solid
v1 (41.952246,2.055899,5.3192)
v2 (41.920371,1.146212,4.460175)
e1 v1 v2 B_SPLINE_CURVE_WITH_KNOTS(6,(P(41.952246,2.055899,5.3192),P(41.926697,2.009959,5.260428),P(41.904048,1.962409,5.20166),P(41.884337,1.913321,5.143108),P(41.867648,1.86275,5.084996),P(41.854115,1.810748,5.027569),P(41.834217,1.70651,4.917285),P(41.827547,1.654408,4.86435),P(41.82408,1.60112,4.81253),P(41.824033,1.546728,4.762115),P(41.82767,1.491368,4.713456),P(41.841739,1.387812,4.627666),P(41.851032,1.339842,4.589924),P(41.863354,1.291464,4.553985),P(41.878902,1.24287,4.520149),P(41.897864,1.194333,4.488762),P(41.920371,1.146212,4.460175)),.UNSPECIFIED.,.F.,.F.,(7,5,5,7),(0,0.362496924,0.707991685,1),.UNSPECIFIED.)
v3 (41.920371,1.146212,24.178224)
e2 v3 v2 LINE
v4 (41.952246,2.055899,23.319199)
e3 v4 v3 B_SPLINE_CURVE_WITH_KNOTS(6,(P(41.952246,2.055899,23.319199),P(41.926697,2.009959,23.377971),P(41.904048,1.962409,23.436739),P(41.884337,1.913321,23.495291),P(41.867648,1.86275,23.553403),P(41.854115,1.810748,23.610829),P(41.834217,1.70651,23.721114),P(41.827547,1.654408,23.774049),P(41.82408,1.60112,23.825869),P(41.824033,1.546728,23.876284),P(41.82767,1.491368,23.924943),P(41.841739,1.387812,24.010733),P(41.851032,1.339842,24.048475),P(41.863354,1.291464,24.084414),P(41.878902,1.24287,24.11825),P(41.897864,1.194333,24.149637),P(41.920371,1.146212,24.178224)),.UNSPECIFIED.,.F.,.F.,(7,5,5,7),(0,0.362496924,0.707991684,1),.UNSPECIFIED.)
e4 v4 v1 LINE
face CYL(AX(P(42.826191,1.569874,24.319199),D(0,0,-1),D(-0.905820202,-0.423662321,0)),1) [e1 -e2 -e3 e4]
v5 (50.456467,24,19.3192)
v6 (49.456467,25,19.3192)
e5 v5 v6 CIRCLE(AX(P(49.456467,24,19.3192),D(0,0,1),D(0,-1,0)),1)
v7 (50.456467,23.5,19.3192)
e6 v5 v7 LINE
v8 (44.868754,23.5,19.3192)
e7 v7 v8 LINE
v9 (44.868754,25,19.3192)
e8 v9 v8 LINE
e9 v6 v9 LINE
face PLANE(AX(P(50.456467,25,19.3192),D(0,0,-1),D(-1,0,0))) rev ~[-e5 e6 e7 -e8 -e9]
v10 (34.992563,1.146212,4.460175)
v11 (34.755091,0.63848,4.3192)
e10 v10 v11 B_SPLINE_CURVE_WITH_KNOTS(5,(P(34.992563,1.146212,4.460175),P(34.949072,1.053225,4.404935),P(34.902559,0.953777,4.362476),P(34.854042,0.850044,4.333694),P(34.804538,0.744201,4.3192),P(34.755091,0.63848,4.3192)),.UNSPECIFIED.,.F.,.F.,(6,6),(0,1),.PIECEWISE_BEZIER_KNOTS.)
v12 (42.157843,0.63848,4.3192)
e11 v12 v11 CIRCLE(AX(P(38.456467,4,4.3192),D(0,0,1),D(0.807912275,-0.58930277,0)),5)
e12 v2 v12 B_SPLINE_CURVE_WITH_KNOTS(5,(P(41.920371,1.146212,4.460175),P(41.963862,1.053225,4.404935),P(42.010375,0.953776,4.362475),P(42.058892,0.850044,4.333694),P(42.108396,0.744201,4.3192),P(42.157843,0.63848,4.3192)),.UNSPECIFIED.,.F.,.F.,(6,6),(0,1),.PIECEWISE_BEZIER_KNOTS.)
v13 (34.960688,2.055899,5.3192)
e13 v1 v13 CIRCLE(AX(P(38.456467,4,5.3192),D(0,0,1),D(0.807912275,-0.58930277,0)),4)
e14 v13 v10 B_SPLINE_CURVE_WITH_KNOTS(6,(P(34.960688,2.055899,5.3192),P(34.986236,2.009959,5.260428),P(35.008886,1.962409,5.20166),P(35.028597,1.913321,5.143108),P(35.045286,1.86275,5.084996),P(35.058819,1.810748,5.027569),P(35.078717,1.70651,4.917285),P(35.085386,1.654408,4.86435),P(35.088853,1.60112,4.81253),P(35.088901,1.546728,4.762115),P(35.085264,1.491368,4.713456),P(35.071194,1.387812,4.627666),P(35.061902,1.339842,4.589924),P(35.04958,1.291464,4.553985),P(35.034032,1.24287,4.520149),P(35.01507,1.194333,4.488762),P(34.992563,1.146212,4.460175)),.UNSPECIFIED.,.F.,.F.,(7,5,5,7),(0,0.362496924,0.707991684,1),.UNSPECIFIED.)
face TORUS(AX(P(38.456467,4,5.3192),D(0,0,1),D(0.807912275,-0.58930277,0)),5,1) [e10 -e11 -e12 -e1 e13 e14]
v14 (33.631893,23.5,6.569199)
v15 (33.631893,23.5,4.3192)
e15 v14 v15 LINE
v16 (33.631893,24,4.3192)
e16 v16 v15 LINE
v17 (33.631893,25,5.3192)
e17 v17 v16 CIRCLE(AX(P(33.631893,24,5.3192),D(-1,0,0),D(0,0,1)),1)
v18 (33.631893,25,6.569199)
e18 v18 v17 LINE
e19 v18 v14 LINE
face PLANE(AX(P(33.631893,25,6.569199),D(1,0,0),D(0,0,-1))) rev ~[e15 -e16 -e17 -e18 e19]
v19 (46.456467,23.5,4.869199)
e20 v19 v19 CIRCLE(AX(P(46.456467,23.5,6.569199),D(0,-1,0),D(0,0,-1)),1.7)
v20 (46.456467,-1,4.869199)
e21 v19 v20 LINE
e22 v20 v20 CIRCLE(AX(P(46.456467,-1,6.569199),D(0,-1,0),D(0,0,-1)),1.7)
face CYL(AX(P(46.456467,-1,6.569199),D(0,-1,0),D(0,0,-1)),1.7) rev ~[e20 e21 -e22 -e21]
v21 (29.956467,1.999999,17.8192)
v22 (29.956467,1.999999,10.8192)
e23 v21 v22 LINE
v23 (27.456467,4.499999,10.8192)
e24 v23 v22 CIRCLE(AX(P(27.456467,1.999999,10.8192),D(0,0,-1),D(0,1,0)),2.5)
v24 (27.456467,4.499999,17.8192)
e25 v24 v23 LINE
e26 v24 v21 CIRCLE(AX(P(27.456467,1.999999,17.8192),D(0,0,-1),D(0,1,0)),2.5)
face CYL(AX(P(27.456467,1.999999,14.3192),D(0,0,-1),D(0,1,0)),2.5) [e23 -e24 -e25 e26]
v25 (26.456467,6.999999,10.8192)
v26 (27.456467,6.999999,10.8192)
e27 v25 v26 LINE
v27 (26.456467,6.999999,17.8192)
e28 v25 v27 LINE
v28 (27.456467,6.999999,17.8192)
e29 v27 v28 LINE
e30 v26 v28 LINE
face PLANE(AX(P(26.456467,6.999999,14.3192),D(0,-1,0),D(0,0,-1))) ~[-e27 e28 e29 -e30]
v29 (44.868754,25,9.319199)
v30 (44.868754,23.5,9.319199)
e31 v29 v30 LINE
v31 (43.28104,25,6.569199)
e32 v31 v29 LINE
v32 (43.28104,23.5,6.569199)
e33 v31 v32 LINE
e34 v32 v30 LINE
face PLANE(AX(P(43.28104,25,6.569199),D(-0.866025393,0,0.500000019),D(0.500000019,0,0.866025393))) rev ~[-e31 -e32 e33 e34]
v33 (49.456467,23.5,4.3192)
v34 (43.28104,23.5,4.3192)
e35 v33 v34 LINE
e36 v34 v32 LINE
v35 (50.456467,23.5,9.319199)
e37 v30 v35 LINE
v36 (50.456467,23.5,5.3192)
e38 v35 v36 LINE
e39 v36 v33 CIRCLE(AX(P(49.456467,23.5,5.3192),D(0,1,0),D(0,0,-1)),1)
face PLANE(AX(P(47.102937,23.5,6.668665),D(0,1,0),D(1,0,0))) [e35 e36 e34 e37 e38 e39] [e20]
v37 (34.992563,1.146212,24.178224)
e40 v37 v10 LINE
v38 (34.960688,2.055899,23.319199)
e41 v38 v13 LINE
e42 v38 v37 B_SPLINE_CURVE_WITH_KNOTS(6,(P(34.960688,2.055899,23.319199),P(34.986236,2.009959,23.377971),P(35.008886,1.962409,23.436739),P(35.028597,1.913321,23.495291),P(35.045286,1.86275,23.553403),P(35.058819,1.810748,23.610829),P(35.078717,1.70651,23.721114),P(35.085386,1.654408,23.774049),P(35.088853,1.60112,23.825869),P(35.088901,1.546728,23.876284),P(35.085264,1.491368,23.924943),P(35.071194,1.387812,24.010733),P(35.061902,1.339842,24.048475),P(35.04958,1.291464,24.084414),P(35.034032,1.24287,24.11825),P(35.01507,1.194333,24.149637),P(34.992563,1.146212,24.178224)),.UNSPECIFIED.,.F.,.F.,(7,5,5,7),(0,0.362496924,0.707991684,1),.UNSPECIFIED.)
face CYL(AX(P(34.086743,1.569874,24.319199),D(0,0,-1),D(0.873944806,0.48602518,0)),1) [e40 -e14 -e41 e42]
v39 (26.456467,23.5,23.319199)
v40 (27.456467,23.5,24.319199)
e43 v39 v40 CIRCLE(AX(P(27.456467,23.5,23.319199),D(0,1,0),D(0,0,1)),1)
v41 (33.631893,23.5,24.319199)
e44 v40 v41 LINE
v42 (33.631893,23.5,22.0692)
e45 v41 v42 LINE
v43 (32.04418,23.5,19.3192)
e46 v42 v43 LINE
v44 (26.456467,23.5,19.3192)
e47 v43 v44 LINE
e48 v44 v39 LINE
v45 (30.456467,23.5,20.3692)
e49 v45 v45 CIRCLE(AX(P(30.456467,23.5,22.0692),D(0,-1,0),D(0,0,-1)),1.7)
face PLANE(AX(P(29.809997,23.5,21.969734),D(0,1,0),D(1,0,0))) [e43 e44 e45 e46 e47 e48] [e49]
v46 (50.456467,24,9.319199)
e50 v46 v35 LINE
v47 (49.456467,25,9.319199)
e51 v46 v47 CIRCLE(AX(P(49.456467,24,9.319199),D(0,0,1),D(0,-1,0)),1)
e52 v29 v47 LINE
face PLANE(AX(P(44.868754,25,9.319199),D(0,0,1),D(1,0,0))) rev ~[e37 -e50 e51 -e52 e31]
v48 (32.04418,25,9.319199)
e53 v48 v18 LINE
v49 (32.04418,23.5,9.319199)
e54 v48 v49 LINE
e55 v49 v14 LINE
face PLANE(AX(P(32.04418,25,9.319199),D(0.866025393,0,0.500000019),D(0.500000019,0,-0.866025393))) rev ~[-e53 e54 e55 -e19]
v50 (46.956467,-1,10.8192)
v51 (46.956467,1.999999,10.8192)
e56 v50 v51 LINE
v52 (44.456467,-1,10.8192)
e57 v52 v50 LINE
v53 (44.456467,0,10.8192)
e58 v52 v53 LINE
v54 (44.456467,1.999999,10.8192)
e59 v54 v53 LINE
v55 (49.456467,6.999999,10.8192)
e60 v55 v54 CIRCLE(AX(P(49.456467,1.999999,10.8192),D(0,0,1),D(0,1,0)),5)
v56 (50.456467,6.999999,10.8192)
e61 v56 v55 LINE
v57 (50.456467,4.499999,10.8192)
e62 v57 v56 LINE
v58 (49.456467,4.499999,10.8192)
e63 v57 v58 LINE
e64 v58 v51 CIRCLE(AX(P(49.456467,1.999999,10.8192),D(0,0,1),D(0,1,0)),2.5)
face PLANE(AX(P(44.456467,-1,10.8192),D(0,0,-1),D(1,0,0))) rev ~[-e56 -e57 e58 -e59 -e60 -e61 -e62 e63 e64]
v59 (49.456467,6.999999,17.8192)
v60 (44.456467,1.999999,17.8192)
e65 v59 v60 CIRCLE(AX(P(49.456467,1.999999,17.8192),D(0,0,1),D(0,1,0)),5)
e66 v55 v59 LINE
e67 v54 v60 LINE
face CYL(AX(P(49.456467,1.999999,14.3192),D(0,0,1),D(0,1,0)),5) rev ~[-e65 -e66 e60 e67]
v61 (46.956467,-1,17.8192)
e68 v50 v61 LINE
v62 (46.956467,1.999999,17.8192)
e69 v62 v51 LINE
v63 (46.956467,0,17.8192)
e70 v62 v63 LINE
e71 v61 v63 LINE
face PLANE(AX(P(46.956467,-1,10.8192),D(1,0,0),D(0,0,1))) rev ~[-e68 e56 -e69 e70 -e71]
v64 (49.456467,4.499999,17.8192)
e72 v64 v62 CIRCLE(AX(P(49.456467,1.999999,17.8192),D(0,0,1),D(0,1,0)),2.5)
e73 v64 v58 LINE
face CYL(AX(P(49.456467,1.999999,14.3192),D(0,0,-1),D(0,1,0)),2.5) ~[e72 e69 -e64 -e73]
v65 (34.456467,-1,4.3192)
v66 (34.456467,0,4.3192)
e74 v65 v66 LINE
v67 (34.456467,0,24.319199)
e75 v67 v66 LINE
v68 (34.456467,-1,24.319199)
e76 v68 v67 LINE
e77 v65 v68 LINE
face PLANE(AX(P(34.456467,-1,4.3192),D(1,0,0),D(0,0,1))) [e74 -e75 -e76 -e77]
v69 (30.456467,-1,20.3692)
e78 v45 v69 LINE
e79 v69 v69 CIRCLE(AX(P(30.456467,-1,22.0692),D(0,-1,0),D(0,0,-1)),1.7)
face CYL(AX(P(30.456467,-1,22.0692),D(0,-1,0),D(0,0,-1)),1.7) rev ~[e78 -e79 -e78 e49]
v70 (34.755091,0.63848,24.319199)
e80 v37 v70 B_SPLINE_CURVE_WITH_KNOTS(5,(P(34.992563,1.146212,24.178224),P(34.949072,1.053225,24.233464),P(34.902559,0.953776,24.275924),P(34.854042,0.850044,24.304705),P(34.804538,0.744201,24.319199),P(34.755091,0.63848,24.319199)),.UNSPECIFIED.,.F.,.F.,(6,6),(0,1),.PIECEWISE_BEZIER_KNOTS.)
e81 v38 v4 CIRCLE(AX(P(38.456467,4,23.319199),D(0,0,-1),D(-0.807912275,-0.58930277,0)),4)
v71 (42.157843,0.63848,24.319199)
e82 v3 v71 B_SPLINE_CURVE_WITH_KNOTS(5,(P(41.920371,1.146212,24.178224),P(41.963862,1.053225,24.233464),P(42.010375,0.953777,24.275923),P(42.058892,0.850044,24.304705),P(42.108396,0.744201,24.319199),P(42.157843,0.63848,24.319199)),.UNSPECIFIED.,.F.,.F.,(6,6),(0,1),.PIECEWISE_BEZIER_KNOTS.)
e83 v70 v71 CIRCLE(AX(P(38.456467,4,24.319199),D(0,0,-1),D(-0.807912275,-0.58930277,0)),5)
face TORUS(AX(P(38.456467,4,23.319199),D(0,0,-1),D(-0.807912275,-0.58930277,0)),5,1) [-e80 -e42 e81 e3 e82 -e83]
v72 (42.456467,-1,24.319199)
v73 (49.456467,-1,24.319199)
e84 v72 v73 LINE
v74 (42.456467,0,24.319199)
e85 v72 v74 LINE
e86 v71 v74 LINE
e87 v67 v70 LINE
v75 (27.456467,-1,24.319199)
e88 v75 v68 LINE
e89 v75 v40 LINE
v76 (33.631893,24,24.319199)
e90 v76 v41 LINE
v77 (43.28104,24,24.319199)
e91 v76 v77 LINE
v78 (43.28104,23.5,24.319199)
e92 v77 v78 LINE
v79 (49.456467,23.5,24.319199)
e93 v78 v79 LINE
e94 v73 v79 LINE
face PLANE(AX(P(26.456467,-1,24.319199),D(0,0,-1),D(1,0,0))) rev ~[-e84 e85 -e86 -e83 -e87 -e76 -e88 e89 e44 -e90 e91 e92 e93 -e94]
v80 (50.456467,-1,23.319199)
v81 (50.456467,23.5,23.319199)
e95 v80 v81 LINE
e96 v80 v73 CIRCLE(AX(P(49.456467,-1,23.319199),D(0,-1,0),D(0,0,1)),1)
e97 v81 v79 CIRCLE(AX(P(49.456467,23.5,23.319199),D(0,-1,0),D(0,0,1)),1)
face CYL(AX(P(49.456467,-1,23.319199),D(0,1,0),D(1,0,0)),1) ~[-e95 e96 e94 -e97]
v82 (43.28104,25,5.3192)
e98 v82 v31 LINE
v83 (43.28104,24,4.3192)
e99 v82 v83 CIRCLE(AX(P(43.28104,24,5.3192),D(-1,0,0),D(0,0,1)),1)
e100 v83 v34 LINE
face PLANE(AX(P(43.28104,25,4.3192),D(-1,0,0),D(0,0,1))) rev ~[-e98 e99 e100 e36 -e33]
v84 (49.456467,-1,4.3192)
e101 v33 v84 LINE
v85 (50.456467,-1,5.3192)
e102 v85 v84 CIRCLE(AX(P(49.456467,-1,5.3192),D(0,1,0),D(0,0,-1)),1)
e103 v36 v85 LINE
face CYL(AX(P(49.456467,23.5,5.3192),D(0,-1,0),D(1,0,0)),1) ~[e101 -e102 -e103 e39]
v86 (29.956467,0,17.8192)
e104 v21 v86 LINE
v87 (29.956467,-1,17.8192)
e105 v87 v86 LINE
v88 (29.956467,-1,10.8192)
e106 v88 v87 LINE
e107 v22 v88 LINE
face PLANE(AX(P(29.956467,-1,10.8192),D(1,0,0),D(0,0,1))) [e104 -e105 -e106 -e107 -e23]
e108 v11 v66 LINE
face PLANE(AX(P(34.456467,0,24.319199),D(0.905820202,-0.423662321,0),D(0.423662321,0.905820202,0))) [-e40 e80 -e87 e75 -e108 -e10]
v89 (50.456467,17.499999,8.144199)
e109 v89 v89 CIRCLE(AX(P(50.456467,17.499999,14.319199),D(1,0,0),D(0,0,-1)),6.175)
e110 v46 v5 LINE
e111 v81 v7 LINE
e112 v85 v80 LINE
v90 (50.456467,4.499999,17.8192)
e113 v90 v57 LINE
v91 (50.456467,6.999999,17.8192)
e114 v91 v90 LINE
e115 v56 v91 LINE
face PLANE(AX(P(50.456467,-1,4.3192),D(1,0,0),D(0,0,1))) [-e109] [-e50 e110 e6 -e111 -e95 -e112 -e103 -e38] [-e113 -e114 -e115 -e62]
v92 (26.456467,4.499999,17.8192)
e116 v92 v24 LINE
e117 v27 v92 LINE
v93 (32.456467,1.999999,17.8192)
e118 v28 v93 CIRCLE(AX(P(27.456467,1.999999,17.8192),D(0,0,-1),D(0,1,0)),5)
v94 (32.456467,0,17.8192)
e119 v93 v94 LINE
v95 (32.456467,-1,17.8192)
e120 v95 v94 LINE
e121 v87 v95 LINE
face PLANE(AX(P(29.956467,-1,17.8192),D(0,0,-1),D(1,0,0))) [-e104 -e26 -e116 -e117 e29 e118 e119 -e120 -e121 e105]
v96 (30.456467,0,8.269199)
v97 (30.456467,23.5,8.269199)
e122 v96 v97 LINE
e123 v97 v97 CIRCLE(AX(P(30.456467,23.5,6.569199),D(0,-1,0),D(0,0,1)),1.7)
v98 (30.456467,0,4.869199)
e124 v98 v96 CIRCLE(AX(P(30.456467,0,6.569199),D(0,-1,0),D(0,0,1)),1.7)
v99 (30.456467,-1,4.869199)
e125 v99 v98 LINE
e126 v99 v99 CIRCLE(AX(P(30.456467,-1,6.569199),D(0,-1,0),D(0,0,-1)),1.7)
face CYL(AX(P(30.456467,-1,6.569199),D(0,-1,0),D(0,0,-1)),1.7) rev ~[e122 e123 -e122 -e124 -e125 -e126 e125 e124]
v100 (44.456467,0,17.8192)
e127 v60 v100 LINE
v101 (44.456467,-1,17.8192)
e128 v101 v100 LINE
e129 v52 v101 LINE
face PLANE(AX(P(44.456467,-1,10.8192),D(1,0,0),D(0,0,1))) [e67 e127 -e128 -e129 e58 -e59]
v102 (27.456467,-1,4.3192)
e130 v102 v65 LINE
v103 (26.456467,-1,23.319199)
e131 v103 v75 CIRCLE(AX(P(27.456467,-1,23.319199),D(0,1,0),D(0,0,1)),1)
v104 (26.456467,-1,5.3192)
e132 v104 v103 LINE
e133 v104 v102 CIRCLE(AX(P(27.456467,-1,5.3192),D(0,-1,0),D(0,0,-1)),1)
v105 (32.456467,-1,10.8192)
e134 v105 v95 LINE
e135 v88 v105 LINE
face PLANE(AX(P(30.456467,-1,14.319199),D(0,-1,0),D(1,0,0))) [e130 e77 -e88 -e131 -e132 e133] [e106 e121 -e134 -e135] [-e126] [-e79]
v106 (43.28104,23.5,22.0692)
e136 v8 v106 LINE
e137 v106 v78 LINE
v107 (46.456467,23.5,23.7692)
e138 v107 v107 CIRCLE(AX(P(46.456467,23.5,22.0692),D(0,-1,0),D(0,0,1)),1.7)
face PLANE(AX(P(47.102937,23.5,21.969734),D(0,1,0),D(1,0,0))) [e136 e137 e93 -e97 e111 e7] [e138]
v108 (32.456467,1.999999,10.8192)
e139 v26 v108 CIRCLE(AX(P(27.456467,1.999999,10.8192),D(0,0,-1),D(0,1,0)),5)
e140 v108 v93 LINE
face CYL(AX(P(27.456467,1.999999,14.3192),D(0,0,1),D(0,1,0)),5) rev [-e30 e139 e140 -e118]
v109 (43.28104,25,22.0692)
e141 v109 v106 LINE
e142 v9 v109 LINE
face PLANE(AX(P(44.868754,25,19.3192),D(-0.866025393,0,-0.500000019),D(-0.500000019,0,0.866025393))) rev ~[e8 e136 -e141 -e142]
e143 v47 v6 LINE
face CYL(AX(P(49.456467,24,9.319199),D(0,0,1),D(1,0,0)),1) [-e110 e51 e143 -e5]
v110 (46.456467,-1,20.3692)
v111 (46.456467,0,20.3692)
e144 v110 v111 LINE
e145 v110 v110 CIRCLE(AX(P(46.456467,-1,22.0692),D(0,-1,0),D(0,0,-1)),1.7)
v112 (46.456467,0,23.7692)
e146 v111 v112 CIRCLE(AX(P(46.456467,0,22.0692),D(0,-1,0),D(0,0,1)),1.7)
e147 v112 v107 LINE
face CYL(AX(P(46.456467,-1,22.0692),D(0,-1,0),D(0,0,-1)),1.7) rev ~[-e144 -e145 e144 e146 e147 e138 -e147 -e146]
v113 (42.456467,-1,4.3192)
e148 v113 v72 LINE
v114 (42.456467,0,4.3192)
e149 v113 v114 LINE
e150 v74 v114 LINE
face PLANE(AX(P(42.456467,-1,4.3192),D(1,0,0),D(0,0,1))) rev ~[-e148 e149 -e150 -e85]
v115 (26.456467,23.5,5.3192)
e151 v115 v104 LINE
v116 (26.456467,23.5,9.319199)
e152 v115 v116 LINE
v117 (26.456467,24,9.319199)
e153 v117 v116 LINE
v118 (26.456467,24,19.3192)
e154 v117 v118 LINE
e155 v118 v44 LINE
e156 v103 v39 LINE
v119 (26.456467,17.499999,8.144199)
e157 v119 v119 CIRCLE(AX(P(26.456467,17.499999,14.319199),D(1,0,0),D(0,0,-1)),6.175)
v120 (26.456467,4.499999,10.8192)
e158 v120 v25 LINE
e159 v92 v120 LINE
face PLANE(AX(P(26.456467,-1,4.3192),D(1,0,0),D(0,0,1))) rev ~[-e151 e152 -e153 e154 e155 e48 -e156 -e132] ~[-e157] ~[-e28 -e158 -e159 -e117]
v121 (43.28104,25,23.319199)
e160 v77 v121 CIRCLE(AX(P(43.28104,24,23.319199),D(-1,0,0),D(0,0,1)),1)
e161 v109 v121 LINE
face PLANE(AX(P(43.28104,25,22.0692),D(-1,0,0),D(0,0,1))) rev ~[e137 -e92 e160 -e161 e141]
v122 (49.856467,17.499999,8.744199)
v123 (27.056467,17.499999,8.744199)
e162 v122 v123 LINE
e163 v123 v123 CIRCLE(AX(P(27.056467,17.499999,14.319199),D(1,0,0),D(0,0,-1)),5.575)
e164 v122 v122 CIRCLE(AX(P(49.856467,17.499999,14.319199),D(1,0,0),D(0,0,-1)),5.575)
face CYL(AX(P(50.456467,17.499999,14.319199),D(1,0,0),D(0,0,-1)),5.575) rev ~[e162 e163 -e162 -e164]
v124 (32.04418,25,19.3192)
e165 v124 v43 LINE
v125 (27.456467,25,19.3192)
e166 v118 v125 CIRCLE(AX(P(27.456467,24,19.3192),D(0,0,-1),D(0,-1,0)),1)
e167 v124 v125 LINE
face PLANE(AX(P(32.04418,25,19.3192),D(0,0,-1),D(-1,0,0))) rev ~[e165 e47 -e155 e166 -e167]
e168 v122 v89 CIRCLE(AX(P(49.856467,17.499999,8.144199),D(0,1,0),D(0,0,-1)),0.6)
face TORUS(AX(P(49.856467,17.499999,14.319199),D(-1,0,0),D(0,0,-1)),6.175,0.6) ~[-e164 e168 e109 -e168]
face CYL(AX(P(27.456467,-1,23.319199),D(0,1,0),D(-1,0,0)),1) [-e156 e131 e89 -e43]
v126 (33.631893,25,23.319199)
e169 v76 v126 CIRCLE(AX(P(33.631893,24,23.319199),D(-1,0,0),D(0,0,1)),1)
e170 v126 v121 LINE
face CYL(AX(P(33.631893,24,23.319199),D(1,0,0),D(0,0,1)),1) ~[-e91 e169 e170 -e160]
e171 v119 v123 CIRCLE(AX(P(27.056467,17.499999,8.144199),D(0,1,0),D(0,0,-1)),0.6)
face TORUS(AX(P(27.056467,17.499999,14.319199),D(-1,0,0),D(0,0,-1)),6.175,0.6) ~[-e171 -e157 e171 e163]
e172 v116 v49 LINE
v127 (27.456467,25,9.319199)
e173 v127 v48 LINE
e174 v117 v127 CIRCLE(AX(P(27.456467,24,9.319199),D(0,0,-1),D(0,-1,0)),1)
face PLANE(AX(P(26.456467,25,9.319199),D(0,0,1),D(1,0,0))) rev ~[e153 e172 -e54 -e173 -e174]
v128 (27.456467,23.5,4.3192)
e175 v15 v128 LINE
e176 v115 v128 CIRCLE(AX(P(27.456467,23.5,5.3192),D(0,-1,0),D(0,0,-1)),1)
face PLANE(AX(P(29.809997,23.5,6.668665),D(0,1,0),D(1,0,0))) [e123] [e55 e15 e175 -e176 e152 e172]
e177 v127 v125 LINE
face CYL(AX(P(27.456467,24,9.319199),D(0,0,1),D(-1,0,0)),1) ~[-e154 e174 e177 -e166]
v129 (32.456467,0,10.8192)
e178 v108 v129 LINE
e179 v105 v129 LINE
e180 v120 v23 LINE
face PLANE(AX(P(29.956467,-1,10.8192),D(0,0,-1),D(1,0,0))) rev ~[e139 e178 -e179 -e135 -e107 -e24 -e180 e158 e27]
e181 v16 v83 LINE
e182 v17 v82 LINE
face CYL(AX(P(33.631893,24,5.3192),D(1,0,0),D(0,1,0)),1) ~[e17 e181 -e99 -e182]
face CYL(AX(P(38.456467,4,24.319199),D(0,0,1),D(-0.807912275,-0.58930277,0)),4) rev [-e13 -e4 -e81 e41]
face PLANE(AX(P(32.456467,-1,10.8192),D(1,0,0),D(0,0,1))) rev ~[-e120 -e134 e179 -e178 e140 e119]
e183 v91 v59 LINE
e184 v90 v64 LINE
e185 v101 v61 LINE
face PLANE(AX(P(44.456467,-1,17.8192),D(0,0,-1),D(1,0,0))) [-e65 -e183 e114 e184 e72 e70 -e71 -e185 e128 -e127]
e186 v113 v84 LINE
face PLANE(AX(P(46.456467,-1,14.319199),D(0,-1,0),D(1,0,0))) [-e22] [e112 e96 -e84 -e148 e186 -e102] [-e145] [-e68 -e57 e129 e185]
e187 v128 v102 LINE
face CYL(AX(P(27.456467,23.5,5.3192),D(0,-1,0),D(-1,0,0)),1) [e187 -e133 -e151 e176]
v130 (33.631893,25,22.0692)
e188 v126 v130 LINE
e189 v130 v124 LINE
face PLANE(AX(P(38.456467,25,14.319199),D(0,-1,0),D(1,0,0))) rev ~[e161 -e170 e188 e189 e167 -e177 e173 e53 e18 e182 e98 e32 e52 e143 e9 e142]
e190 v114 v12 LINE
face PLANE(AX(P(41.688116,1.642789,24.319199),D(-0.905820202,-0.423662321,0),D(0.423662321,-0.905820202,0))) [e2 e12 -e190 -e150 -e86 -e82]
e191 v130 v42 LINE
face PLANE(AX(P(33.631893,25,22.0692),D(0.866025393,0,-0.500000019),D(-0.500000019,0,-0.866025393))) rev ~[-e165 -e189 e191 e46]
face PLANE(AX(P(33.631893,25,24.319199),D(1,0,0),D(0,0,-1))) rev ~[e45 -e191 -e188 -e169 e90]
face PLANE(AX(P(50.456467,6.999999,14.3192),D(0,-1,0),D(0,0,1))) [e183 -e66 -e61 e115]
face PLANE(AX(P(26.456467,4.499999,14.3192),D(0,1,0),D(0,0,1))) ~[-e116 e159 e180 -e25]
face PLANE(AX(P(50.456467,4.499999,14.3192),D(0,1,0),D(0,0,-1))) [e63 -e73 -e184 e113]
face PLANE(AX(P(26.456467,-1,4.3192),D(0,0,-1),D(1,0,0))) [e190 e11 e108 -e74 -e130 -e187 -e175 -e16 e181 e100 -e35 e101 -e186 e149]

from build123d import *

# Parameters (mm, degrees)
CROQUIS1_W              = 24
CROQUIS1_H              = 19.999999388
SALIENTE_EXTRUIR1_DEPTH = 25
CORTAR_EXTRUIR1_DEPTH   = 60.75663166
CROQUIS4_R              = 1.7
CORTAR_EXTRUIR3_DEPTH   = 62.337415173
CROQUIS8_W              = 7
CROQUIS8_H              = 2.5
CORTAR_EXTRUIR7_DEPTH   = 1.5
CROQUIS3_R              = 5.575
CORTAR_EXTRUIR8_DEPTH   = 40
SALIENTE_EXTRUIR2_START = 1
CROQUIS13_W             = 8
CROQUIS13_H             = 19.999999388
CROQUIS13_R             = 1.7
CROQUIS13_W_2           = 2.5
CROQUIS13_H_2           = 7
SALIENTE_EXTRUIR2_DEPTH = 1
SALIENTE_EXTRUIR3_START = 1
CROQUIS14_W             = 8
CROQUIS14_H             = 19.999999388
CROQUIS14_R             = 1.7
CROQUIS14_W_2           = 2.5
CROQUIS14_H_2           = 7
SALIENTE_EXTRUIR3_DEPTH = 1
REDONDEO1_R             = 1
REDONDEO3_R             = 0.6


with BuildPart() as part:
    # Croquis1 → Saliente-Extruir1 (new body)
    with BuildSketch(Plane.XZ):
        with Locations((38.456466898, 14.319199476)):
            Rectangle(CROQUIS1_W, CROQUIS1_H)
    extrude(amount=-SALIENTE_EXTRUIR1_DEPTH)

    # Croquis2 → Cortar-Extruir1 (cut, through all)
    with BuildSketch(Plane.XY.offset(24.31919917)):
        with BuildLine():
            Line((34.456466898, 0), (35.224817797, 1.642788918))
            ThreePointArc((35.224817797, 1.642788918), (38.456466898, 8), (41.688116, 1.642788918))
            Line((41.688116, 1.642788918), (42.456466898, 0))
            Line((42.456466898, 0), (34.456466898, 0))
        make_face()
    extrude(amount=-CORTAR_EXTRUIR1_DEPTH, mode=Mode.SUBTRACT)

    # Croquis4 → Cortar-Extruir3 (cut, through all)
    with BuildSketch(Plane.XZ):
        with Locations(Location((30.456466898, 22.069199782, 0), (0, 0, 270))):
            Circle(CROQUIS4_R)
        with Locations(Location((46.456466898, 22.069199782, 0), (0, 0, 90))):
            Circle(CROQUIS4_R)
        with Locations(Location((46.456466898, 6.569198558, 0), (0, 0, 270))):
            Circle(CROQUIS4_R)
        with Locations(Location((30.456466898, 6.569198558, 0), (0, 0, 90))):
            Circle(CROQUIS4_R)
    extrude(amount=-CORTAR_EXTRUIR3_DEPTH, mode=Mode.SUBTRACT)

    # Cortar-Barrer2: sweep along a path in Croquis9
    with BuildLine(Plane(origin=(0, 0, 10.819199782), x_dir=(-1, 0, 0), z_dir=(0, 0, -1))) as cortar_barrer2_path:
        Line((-50.456466898, 6.999998763), (-49.456466898, 6.999998763))
        ThreePointArc((-49.456466898, 6.999998763), (-45.920932992, 5.535532669), (-44.456466898, 1.999998763))
        Line((-44.456466898, 1.999998763), (-44.456466898, -1.237e-06))
    # Croquis8 → Cortar-Barrer2 (sweep, cut)
    with BuildSketch(Plane(origin=(50.456466898, 0, 0), x_dir=(0, 0, -1), z_dir=(1, 0, 0))):
        with Locations((-14.319199782, 5.749998763)):
            Rectangle(CROQUIS8_W, CROQUIS8_H)
    cortar_barrer2 = sweep(path=cortar_barrer2_path.line, mode=Mode.SUBTRACT)

    # Simetría1: Cortar-Barrer2 across plane
    add(cortar_barrer2.mirror(Plane(origin=(38.456466898, 0, 0), x_dir=(0, 0, 1), z_dir=(1, 0, 0))), mode=Mode.SUBTRACT)

    # Croquis11 → Cortar-Extruir7 (cut)
    with BuildSketch(Plane(origin=(0, 25, 0), x_dir=(1, 0, 0), z_dir=(0, 1, 0))):
        Polygon((48.044180138, -19.319200394), (44.868753698, -19.319200394), (43.281040397, -22.069200359), (43.281040397, -24.31919917), (50.456466898, -24.31919917), (50.456466898, -19.319200394), align=None)
        Polygon((26.456466898, -24.31919917), (33.631893399, -24.31919917), (33.631893399, -22.069200359), (32.044180098, -19.319200394), (28.868753658, -19.319200394), (26.456466898, -19.319200394), align=None)
        Polygon((50.456466898, -4.319199782), (43.281040397, -4.319199782), (43.281040397, -6.569198594), (44.868753698, -9.319198558), (48.044180138, -9.319198558), (50.456466898, -9.319198558), align=None)
        Polygon((28.868753658, -9.319198558), (32.044180098, -9.319198558), (33.631893399, -6.569198594), (33.631893399, -4.319199782), (26.456466898, -4.319199782), (26.456466898, -9.319198558), align=None)
    extrude(amount=-CORTAR_EXTRUIR7_DEPTH, mode=Mode.SUBTRACT)

    # Croquis3 → Cortar-Extruir8 (cut)
    with BuildSketch(Plane(origin=(50.456466898, 0, 0), x_dir=(0, 0, -1), z_dir=(1, 0, 0))):
        with Locations((-14.31919917, 17.49999856)):
            Circle(CROQUIS3_R)
    extrude(amount=-CORTAR_EXTRUIR8_DEPTH, mode=Mode.SUBTRACT)

    # Croquis13 → Saliente-Extruir2 (add)
    with BuildSketch(Plane.XZ.offset(SALIENTE_EXTRUIR2_START)):
        with Locations((46.456466898, 14.319199476)):
            Rectangle(CROQUIS13_W, CROQUIS13_H)
        with Locations(Location((46.456466898, 22.069199782, 0), (0, 0, 270))):
            Circle(CROQUIS13_R, mode=Mode.SUBTRACT)
        with Locations(Location((46.456466898, 6.569198558, 0), (0, 0, 270))):
            Circle(CROQUIS13_R, mode=Mode.SUBTRACT)
        with Locations((45.706466898, 14.319199782)):
            Rectangle(CROQUIS13_W_2, CROQUIS13_H_2, mode=Mode.SUBTRACT)
    extrude(amount=-SALIENTE_EXTRUIR2_DEPTH)

    # Croquis14 → Saliente-Extruir3 (add)
    with BuildSketch(Plane.XZ.offset(SALIENTE_EXTRUIR3_START)):
        with Locations((30.456466898, 14.319199476)):
            Rectangle(CROQUIS14_W, CROQUIS14_H)
        with Locations(Location((30.456466898, 22.069199782, 0), (0, 0, 270))):
            Circle(CROQUIS14_R, mode=Mode.SUBTRACT)
        with Locations(Location((30.456466898, 6.569198558, 0), (0, 0, 270))):
            Circle(CROQUIS14_R, mode=Mode.SUBTRACT)
        with Locations((31.206466898, 14.319199782)):
            Rectangle(CROQUIS14_W_2, CROQUIS14_H_2, mode=Mode.SUBTRACT)
    extrude(amount=-SALIENTE_EXTRUIR3_DEPTH)

    # Redondeo1
    redondeo1_edges = [part.edges().sort_by_distance(p)[0] for p in [
        (38.456466898, 25, 24.31919917),
        (50.456466898, 11.25, 24.31919917),
        (26.456466898, 25, 14.319199476),
        (26.456466898, 11.25, 24.31919917),
        (38.456466898, 25, 4.319199782),
        (26.456466898, 11.25, 4.319199782),
        (50.456466898, 25, 14.319199476),
        (50.456466898, 11.25, 4.319199782),
        (38.456466898, 8, 4.319199782),
        (35.224817797, 1.642788918, 14.319199476),
        (41.688116, 1.642788918, 14.319199476),
        (38.456466898, 8, 24.31919917),
    ]]
    fillet(redondeo1_edges, radius=REDONDEO1_R)

    # Redondeo3
    redondeo3_edges = [part.edges().sort_by_distance(p)[0] for p in [
        (26.456466898, 17.49999856, 19.89419917),
        (50.456466898, 17.49999856, 19.89419917),
    ]]
    fillet(redondeo3_edges, radius=REDONDEO3_R)


solid = part.part
